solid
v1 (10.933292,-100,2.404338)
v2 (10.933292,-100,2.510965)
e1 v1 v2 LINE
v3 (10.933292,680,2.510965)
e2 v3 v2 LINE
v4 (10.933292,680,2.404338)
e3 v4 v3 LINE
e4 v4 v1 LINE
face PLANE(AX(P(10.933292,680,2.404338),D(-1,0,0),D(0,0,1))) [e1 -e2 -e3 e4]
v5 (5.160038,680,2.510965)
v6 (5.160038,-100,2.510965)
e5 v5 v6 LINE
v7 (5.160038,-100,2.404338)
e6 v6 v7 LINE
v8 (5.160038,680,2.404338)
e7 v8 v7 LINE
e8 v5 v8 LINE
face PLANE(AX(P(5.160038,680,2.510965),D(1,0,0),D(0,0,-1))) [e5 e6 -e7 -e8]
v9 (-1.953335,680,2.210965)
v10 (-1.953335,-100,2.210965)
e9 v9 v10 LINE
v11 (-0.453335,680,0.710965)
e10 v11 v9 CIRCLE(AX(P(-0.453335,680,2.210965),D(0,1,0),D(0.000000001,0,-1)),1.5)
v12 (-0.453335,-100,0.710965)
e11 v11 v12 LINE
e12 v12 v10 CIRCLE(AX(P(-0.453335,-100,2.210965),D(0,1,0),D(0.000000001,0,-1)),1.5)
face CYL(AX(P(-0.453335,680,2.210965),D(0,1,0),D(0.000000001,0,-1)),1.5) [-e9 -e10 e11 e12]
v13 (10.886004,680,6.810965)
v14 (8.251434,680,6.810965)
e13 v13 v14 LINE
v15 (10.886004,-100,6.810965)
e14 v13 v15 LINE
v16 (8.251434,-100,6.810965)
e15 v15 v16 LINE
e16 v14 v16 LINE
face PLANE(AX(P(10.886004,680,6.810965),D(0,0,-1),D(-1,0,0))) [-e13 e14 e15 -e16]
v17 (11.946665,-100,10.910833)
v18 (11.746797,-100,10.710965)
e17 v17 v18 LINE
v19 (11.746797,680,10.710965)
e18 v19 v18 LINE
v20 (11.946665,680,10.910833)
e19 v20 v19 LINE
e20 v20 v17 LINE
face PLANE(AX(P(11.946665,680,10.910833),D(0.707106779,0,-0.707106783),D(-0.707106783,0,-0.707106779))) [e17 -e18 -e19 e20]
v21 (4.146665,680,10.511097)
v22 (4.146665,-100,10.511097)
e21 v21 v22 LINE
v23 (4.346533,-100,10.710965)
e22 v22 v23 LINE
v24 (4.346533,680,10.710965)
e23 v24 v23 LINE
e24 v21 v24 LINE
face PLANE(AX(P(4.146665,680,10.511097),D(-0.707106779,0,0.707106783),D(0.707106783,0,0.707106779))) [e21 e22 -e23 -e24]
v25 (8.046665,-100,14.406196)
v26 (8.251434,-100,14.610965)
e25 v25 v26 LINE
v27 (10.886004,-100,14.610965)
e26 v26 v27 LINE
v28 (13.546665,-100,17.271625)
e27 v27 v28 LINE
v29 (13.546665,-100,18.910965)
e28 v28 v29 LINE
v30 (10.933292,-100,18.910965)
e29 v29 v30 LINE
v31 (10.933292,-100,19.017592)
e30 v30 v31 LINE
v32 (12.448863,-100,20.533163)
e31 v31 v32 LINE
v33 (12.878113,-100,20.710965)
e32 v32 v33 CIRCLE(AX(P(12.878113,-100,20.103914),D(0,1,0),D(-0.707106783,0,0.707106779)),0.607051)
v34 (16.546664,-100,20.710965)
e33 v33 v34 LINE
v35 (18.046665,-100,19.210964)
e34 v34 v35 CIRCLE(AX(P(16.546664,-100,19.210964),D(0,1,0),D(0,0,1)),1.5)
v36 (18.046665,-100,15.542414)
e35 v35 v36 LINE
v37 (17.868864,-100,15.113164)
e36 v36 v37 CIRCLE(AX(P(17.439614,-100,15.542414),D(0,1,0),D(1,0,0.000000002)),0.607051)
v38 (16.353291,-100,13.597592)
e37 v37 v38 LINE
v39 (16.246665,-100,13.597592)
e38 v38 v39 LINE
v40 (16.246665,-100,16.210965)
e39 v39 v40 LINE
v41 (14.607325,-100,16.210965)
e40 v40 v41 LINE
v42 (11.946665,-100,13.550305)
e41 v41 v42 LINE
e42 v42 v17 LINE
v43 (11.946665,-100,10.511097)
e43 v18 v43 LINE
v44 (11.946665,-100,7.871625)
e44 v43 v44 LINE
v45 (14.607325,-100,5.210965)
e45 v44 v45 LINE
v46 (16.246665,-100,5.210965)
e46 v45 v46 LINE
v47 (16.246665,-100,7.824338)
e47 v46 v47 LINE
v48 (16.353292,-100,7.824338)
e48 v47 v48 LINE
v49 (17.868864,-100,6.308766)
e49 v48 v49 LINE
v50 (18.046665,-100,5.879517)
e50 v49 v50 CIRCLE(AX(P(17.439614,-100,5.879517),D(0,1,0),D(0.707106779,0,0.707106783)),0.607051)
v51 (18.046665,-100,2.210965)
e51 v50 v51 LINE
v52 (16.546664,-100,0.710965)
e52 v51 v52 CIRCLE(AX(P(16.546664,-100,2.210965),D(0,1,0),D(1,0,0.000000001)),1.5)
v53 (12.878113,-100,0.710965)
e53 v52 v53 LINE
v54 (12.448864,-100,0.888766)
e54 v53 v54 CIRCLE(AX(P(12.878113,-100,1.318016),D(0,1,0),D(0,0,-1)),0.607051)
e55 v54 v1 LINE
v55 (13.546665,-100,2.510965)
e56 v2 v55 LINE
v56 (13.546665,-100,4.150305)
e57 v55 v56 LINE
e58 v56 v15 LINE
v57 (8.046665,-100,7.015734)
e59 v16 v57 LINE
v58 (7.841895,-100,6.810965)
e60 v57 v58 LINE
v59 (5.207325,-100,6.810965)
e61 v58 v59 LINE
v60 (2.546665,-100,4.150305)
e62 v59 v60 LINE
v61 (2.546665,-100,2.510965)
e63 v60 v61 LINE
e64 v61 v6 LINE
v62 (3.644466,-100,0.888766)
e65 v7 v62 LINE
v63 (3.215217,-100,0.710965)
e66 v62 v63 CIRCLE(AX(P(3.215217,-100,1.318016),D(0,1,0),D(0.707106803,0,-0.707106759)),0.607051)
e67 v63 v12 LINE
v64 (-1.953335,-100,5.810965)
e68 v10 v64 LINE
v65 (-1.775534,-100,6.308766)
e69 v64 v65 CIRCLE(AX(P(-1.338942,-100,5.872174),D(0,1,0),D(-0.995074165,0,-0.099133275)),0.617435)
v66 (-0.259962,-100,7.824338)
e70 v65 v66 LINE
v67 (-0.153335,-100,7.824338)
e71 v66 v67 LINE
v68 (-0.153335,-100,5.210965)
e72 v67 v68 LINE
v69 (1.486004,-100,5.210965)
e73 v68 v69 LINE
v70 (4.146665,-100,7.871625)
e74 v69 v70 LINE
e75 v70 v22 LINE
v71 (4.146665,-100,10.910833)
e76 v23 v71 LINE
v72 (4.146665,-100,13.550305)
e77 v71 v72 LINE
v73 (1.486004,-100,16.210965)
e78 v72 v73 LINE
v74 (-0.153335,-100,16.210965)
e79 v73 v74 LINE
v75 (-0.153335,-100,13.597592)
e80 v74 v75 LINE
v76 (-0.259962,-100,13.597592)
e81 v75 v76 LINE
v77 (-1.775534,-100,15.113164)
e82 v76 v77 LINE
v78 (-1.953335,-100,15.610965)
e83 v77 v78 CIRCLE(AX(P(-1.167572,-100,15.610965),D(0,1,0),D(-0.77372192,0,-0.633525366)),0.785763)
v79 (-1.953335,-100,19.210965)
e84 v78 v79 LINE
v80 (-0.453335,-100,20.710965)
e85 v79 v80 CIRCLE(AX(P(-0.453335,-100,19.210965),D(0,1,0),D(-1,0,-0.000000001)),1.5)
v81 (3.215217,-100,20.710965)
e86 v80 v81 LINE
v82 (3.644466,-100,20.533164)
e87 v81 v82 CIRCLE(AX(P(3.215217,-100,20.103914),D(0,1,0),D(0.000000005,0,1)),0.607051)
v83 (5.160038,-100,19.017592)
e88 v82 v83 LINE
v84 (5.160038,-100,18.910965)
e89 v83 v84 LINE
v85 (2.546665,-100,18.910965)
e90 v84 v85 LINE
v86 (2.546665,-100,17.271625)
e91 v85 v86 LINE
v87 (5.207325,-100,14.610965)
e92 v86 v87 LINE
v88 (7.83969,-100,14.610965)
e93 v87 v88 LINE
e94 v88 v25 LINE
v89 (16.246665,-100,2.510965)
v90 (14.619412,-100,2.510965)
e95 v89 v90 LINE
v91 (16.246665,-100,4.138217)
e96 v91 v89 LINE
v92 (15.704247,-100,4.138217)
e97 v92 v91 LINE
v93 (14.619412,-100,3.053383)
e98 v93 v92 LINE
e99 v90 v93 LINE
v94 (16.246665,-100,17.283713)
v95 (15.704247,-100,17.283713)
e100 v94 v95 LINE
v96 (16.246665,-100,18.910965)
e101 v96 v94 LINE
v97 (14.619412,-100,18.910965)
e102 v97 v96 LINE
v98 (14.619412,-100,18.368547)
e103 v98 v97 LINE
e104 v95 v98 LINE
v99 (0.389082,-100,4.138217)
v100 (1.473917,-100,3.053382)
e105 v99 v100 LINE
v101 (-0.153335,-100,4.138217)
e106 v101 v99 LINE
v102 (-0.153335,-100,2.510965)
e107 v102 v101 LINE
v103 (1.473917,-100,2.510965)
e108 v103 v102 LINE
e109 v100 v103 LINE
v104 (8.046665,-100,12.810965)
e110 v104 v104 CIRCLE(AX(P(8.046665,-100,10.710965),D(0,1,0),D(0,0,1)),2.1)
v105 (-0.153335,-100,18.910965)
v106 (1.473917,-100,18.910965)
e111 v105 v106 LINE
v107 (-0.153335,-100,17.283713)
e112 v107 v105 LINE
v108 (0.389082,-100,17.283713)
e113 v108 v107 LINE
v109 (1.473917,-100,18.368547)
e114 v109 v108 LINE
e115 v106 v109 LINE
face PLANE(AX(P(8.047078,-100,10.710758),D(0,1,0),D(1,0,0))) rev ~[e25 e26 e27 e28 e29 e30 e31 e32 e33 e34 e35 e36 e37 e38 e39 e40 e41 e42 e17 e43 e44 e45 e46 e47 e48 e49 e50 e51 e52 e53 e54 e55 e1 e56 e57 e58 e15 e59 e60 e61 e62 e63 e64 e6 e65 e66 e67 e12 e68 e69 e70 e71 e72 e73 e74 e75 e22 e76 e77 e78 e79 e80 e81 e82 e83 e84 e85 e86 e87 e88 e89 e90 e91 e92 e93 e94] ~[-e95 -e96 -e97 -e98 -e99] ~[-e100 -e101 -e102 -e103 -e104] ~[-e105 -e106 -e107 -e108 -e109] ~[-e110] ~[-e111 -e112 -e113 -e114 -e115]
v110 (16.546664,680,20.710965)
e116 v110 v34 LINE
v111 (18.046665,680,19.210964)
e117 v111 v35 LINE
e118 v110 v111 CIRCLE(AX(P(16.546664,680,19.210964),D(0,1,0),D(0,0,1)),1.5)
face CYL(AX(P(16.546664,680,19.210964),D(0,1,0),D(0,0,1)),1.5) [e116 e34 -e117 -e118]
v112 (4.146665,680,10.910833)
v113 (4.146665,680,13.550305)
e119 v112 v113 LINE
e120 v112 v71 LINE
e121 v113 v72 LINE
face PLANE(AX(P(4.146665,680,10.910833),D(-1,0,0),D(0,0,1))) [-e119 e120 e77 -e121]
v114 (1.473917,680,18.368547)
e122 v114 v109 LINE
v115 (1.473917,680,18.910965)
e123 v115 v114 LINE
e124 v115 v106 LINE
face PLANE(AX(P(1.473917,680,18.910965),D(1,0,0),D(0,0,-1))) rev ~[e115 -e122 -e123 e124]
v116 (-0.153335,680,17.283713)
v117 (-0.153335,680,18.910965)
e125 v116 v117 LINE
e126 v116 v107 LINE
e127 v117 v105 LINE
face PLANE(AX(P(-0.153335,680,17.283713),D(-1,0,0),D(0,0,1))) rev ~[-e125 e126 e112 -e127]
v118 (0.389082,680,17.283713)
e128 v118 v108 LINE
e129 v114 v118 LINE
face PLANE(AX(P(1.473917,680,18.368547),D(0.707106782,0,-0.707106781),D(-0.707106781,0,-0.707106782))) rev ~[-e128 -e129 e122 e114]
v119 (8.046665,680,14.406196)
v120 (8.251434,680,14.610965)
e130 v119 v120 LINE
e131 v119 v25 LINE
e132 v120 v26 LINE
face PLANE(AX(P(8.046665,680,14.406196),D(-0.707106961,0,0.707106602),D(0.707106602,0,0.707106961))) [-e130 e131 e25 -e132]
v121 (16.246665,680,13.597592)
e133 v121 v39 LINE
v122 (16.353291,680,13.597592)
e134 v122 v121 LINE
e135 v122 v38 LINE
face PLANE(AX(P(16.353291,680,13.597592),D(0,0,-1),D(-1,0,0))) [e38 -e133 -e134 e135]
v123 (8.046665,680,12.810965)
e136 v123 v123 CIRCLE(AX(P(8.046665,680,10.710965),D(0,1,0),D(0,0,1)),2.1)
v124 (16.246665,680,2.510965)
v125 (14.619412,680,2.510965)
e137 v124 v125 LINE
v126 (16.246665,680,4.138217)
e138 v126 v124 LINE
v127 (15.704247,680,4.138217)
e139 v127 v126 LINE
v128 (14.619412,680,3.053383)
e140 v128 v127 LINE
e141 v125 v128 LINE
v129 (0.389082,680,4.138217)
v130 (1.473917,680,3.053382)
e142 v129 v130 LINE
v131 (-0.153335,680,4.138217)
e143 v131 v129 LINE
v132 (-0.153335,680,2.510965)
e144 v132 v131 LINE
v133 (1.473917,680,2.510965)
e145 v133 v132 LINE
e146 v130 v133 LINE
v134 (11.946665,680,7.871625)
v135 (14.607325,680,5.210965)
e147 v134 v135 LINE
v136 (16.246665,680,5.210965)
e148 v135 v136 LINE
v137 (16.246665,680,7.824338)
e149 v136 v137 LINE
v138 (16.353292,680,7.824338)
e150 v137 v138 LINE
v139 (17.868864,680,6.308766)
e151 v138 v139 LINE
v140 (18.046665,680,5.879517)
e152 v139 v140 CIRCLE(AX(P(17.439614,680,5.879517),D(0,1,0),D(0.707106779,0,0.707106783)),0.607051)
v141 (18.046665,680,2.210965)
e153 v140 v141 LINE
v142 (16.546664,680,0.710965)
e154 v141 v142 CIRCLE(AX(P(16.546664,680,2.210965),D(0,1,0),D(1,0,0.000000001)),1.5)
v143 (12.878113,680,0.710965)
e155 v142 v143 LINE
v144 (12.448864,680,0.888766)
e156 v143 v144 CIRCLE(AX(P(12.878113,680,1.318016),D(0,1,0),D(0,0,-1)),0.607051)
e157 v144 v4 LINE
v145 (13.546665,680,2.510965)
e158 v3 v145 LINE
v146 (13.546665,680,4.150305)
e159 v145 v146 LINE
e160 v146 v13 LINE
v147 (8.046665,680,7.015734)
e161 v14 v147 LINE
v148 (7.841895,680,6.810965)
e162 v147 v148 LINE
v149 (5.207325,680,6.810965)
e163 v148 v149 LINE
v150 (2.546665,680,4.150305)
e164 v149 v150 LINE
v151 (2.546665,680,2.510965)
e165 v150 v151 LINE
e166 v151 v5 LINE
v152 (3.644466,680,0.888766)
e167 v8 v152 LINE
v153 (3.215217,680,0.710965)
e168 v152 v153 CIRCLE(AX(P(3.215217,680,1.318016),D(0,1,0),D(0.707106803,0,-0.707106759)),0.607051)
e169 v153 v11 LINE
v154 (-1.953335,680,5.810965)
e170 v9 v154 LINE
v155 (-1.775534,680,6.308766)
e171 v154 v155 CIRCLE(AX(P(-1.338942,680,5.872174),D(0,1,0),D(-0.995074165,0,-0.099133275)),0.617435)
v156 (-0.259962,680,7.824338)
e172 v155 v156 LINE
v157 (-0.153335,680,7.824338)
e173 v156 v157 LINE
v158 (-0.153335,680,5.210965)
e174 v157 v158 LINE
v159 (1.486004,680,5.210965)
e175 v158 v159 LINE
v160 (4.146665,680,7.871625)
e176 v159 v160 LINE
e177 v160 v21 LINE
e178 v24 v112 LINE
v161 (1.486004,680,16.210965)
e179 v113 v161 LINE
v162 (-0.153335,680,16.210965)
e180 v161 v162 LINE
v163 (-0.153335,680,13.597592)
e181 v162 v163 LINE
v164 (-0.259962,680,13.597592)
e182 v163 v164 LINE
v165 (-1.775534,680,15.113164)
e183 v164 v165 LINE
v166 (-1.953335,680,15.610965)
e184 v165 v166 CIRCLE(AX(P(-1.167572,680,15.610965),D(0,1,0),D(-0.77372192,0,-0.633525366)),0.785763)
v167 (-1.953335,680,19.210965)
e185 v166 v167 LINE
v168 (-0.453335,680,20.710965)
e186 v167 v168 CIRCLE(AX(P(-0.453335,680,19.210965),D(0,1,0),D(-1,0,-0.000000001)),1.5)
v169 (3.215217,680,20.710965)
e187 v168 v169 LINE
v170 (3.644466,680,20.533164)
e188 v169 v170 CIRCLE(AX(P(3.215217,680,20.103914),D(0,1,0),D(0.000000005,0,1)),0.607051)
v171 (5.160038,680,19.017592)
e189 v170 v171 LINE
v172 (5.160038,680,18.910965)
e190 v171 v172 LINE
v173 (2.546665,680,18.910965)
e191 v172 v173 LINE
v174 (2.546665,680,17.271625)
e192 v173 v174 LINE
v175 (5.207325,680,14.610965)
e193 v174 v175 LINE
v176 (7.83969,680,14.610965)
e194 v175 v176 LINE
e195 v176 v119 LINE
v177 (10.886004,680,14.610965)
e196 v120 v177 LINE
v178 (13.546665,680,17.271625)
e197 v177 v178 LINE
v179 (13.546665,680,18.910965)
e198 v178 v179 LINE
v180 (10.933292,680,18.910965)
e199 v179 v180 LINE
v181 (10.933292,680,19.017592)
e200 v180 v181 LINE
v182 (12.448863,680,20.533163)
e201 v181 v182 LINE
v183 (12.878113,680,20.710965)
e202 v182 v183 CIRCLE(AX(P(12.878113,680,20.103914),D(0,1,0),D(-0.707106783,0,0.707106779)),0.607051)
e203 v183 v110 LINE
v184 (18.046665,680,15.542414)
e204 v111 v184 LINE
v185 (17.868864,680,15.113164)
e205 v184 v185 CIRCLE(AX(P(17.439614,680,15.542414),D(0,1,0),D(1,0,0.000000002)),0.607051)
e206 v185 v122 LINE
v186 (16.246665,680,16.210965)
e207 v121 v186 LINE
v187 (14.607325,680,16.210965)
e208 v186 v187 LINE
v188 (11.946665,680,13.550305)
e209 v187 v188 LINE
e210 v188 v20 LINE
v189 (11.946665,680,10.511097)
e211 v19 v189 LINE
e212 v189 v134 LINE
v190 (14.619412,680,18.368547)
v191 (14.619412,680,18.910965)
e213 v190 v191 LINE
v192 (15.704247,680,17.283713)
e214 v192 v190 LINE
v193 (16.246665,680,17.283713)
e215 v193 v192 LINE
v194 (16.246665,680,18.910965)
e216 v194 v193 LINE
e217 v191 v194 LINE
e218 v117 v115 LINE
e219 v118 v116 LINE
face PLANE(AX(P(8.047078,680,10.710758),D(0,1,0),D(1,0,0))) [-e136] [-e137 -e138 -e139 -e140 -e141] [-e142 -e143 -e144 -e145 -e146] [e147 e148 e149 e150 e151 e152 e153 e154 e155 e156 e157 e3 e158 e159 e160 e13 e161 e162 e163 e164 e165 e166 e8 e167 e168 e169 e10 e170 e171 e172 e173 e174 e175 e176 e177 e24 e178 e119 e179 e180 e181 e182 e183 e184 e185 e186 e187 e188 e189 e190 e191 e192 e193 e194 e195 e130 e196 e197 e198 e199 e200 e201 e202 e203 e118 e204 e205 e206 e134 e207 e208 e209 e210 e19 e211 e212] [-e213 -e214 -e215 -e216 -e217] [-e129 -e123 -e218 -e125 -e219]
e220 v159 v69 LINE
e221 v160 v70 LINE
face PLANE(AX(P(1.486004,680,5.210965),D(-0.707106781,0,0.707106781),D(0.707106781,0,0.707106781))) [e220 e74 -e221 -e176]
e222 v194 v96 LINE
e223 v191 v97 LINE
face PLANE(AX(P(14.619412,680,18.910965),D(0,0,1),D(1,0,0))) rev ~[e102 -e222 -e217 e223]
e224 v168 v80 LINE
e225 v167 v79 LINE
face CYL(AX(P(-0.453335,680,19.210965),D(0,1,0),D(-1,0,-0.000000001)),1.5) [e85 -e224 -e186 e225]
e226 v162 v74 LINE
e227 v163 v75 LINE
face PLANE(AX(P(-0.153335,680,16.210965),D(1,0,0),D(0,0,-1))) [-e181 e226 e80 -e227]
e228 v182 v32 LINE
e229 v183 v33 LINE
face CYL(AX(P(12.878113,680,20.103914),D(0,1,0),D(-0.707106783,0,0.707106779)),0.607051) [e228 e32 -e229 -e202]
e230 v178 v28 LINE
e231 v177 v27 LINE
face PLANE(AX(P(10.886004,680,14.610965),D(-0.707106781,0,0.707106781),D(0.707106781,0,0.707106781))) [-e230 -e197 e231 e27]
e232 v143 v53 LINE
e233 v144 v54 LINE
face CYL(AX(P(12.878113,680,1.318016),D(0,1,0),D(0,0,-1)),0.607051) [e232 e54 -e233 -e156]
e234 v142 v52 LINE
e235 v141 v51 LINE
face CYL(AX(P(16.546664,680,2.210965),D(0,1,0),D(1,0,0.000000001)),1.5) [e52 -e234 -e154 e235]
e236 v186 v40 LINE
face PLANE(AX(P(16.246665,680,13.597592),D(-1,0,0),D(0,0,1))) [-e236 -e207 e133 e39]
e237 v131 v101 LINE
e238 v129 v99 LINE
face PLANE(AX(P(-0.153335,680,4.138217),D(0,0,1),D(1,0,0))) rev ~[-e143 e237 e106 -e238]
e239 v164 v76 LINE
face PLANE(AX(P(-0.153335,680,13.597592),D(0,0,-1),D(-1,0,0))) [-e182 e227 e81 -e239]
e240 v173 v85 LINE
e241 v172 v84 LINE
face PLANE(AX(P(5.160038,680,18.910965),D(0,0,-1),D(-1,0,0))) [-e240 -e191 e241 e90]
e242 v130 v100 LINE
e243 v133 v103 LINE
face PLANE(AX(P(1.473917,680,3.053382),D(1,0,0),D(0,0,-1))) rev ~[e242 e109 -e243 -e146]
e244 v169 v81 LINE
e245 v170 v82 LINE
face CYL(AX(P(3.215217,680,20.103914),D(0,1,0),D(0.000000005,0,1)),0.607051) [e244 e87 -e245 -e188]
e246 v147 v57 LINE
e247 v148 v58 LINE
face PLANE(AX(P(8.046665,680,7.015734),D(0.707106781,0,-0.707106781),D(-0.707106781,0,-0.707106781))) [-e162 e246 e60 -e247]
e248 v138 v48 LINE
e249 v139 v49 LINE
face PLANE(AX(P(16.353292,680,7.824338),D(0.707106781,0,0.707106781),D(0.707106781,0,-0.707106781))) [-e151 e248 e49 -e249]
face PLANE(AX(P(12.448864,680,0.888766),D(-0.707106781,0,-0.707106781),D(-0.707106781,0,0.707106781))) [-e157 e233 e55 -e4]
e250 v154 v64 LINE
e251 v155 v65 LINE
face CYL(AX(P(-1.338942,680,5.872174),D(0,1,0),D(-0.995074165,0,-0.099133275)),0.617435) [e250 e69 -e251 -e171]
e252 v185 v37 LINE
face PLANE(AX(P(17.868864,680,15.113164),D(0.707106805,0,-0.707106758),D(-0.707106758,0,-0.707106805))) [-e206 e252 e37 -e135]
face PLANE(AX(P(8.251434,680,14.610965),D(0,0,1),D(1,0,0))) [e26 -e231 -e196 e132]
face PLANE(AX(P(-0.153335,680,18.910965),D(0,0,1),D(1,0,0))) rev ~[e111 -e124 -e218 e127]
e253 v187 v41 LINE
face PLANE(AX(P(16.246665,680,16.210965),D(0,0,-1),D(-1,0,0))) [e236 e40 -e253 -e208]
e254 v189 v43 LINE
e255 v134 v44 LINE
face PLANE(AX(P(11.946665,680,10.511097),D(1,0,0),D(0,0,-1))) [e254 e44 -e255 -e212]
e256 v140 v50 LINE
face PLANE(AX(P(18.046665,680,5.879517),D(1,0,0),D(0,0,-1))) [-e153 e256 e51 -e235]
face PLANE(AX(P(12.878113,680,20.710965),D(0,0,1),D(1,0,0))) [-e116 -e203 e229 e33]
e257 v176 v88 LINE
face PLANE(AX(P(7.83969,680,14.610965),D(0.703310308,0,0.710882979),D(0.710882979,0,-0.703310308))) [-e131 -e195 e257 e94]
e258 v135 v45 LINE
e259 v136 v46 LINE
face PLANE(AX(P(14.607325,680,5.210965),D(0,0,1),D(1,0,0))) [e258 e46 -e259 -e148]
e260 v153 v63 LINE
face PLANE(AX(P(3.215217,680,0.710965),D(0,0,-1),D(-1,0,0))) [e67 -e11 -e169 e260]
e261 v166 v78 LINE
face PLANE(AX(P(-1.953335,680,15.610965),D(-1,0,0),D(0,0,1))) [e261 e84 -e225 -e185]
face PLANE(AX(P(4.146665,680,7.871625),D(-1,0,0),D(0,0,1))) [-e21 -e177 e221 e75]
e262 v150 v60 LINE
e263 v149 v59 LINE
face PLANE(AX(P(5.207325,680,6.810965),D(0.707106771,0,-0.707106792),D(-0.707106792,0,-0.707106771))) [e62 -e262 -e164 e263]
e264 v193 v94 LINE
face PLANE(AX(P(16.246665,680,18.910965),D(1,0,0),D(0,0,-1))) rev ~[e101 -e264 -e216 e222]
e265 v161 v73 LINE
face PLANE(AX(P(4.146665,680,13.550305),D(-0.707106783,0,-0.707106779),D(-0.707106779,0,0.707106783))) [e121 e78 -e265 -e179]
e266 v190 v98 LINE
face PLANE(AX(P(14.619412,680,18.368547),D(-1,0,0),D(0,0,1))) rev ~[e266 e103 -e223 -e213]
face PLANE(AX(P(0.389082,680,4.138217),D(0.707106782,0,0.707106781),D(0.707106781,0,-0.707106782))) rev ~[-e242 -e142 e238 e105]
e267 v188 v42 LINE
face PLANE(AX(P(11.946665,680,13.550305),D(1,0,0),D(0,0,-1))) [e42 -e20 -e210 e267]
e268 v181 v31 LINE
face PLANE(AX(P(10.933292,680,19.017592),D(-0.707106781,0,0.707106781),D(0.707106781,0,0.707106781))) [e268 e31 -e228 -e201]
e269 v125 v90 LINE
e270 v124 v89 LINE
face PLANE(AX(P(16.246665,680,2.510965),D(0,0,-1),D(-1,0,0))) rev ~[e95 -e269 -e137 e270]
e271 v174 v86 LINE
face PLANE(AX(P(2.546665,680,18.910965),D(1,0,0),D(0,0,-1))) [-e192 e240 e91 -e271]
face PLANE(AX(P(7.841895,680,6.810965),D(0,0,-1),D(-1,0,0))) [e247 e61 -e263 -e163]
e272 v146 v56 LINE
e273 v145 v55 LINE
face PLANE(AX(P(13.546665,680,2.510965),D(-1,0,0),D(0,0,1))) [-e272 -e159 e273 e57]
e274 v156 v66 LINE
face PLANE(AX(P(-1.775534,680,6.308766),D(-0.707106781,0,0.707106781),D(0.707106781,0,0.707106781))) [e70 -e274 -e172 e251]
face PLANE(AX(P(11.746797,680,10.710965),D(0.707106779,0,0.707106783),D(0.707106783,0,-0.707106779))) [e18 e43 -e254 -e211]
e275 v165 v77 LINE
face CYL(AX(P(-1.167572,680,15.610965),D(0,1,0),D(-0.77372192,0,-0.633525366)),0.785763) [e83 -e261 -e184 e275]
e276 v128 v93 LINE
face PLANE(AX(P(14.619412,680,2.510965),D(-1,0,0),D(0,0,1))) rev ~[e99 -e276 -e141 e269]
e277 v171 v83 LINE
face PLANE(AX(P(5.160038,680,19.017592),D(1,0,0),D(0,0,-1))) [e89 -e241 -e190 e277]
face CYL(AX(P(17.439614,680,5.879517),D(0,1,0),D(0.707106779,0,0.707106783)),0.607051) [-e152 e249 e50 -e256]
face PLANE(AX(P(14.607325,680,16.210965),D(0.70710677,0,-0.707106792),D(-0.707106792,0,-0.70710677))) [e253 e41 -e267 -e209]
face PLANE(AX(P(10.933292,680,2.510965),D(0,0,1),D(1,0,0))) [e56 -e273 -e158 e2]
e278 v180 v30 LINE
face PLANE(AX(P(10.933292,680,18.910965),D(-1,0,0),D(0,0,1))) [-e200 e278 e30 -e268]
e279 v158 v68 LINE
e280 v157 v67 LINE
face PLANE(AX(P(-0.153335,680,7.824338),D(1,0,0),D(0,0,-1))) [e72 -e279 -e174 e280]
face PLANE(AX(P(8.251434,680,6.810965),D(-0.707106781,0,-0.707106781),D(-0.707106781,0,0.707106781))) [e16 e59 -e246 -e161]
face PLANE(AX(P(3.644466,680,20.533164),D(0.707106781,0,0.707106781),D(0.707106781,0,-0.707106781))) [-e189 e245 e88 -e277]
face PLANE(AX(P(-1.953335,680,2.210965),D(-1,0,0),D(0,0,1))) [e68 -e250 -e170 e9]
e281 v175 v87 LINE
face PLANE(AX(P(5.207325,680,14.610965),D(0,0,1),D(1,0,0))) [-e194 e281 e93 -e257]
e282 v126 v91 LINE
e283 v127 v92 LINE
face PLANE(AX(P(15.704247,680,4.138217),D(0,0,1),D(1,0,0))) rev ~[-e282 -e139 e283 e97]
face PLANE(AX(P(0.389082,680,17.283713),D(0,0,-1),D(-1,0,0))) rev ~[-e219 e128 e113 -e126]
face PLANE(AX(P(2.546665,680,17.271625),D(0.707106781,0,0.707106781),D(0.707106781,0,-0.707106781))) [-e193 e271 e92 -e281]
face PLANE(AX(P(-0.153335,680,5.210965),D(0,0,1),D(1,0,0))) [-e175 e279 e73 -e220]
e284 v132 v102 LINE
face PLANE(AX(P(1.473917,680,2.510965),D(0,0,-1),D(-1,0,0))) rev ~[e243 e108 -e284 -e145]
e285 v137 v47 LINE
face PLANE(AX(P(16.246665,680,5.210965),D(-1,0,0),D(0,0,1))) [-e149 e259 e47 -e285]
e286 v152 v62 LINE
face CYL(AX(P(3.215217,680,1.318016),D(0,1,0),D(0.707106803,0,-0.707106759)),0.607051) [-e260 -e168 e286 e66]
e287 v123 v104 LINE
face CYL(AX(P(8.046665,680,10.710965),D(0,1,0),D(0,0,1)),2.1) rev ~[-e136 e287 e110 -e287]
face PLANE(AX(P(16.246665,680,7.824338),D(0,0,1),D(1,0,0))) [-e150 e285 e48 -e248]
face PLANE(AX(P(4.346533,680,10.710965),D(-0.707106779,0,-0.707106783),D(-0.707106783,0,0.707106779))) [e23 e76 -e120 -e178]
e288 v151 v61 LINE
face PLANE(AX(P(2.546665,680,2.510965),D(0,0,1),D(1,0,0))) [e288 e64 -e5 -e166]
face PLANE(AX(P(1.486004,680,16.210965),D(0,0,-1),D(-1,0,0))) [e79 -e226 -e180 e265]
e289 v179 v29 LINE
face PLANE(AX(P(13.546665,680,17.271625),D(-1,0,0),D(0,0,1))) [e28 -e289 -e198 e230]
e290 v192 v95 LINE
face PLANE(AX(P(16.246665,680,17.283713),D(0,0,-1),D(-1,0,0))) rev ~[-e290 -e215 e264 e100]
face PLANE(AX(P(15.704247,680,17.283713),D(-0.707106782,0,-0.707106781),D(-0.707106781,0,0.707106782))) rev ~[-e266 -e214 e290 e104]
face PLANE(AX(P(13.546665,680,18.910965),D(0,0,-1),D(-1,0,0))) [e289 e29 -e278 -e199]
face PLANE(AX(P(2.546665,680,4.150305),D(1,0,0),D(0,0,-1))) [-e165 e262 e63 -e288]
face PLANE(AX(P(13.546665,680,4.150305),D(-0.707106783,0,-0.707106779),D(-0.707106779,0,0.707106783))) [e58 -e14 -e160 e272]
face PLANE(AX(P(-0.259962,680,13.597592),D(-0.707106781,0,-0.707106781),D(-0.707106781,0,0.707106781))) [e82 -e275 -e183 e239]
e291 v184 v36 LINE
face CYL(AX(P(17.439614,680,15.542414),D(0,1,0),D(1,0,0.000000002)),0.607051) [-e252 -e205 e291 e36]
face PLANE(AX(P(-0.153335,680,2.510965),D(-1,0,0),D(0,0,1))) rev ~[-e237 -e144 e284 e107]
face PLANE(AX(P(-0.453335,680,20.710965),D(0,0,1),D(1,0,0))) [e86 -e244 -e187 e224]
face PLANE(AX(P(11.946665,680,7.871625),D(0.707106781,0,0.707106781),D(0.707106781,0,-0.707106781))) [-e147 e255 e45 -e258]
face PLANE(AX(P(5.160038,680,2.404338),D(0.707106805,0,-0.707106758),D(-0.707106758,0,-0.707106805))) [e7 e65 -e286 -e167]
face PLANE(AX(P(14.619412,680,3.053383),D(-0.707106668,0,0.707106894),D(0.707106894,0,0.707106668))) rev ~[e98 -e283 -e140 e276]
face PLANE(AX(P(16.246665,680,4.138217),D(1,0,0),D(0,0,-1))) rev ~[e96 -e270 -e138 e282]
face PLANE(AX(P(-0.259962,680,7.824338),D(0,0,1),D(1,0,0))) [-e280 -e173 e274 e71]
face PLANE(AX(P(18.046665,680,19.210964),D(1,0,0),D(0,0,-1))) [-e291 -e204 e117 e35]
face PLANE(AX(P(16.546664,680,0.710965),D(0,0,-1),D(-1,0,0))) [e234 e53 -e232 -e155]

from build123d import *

# Parameters (mm, degrees)
SKETCH5_R           = 2.1
BOSS_EXTRUDE4_DEPTH = 780


with BuildPart() as part:
    # Sketch5 → Boss-Extrude4 (new body)
    with BuildSketch(Plane(origin=(0, 680, 0), x_dir=(1, 0, 0), z_dir=(0, 1, 0))):
        with BuildLine():
            Line((10.933291631, -2.510964723), (13.546664665, -2.510964723))
            Line((13.546664665, -2.510964723), (13.546664665, -4.150304529))
            Line((13.546664665, -4.150304529), (10.886004292, -6.810964917))
            Line((10.886004292, -6.810964917), (8.251433769, -6.810964917))
            Line((8.251433769, -6.810964917), (8.046664548, -7.015734138))
            Line((8.046664548, -7.015734138), (7.841895327, -6.810964917))
            Line((7.841895327, -6.810964917), (5.20732467, -6.810964917))
            Line((5.20732467, -6.810964917), (2.546664606, -4.150304933))
            Line((2.546664606, -4.150304933), (2.546664606, -2.510964723))
            Line((2.546664606, -2.510964723), (5.160037847, -2.510964723))
            Line((5.160037847, -2.510964723), (5.160037847, -2.404337587))
            Line((5.160037847, -2.404337587), (3.644466263, -0.888765902))
            ThreePointArc((3.644466263, -0.888765902), (3.447524808, -0.757173822), (3.215216519, -0.710964828))
            Line((3.215216519, -0.710964828), (-0.453335301, -0.710964828))
            ThreePointArc((-0.453335301, -0.710964828), (-1.51399556, -1.150304692), (-1.953335424, -2.210964951))
            Line((-1.953335424, -2.210964951), (-1.953335424, -5.810965145))
            ThreePointArc((-1.953335424, -5.810965145), (-1.920400619, -6.079855092), (-1.775534246, -6.308766076))
            Line((-1.775534246, -6.308766076), (-0.259962261, -7.82433806))
            Line((-0.259962261, -7.82433806), (-0.153335306, -7.82433806))
            Line((-0.153335306, -7.82433806), (-0.153335306, -5.210964844))
            Line((-0.153335306, -5.210964844), (1.48600445, -5.210964844))
            Line((1.48600445, -5.210964844), (4.146664635, -7.871625029))
            Line((4.146664635, -7.871625029), (4.146664635, -10.511096803))
            Line((4.146664635, -10.511096803), (4.346532653, -10.71096482))
            Line((4.346532653, -10.71096482), (4.146664635, -10.910832837))
            Line((4.146664635, -10.910832837), (4.146664635, -13.550304611))
            Line((4.146664635, -13.550304611), (1.486004498, -16.210964763))
            Line((1.486004498, -16.210964763), (-0.153335306, -16.210964763))
            Line((-0.153335306, -16.210964763), (-0.153335306, -13.597591958))
            Line((-0.153335306, -13.597591958), (-0.259962405, -13.597591958))
            Line((-0.259962405, -13.597591958), (-1.775534389, -15.113163943))
            ThreePointArc((-1.775534389, -15.113163943), (-1.907551313, -15.346664458), (-1.953335424, -15.610964996))
            Line((-1.953335424, -15.610964996), (-1.953335424, -19.210964568))
            ThreePointArc((-1.953335424, -19.210964568), (-1.513995592, -20.27162475), (-0.453335411, -20.710964582))
            Line((-0.453335411, -20.710964582), (3.215216577, -20.710964582))
            ThreePointArc((3.215216577, -20.710964582), (3.447524814, -20.6647556), (3.644466229, -20.533163554))
            Line((3.644466229, -20.533163554), (5.160037847, -19.017591936))
            Line((5.160037847, -19.017591936), (5.160037847, -18.910964955))
            Line((5.160037847, -18.910964955), (2.546664606, -18.910964955))
            Line((2.546664606, -18.910964955), (2.546664606, -17.271624993))
            Line((2.546664606, -17.271624993), (5.207324725, -14.610964873))
            Line((5.207324725, -14.610964873), (7.839690462, -14.610964873))
            Line((7.839690462, -14.610964873), (8.046664589, -14.406195535))
            Line((8.046664589, -14.406195535), (8.251433823, -14.610964873))
            Line((8.251433823, -14.610964873), (10.88600448, -14.610964873))
            Line((10.88600448, -14.610964873), (13.546664665, -17.271625059))
            Line((13.546664665, -17.271625059), (13.546664665, -18.910964955))
            Line((13.546664665, -18.910964955), (10.933291631, -18.910964955))
            Line((10.933291631, -18.910964955), (10.933291631, -19.017591953))
            Line((10.933291631, -19.017591953), (12.448863173, -20.533163494))
            ThreePointArc((12.448863173, -20.533163494), (12.645804654, -20.664755585), (12.878112969, -20.710964582))
            Line((12.878112969, -20.710964582), (16.546664468, -20.710964582))
            ThreePointArc((16.546664468, -20.710964582), (17.607324734, -20.271624715), (18.046664601, -19.210964449))
            Line((18.046664601, -19.210964449), (18.046664601, -15.542413801))
            ThreePointArc((18.046664601, -15.542413801), (18.000455626, -15.310105584), (17.868863597, -15.113164184))
            Line((17.868863597, -15.113164184), (16.353291472, -13.597591958))
            Line((16.353291472, -13.597591958), (16.246664762, -13.597591958))
            Line((16.246664762, -13.597591958), (16.246664762, -16.210964763))
            Line((16.246664762, -16.210964763), (14.607324803, -16.210964763))
            Line((14.607324803, -16.210964763), (11.94666457, -13.550304611))
            Line((11.94666457, -13.550304611), (11.94666457, -10.910832837))
            Line((11.94666457, -10.910832837), (11.746796552, -10.71096482))
            Line((11.746796552, -10.71096482), (11.94666457, -10.511096803))
            Line((11.94666457, -10.511096803), (11.94666457, -7.871625029))
            Line((11.94666457, -7.871625029), (14.607324755, -5.210964844))
            Line((14.607324755, -5.210964844), (16.246664762, -5.210964844))
            Line((16.246664762, -5.210964844), (16.246664762, -7.82433806))
            Line((16.246664762, -7.82433806), (16.353291723, -7.82433806))
            Line((16.353291723, -7.82433806), (17.868863593, -6.30876619))
            ThreePointArc((17.868863593, -6.30876619), (18.000455625, -6.111824797), (18.046664601, -5.879516585))
            Line((18.046664601, -5.879516585), (18.046664601, -2.210964977))
            ThreePointArc((18.046664601, -2.210964977), (17.60732473, -1.1503047), (16.546664453, -0.710964828))
            Line((16.546664453, -0.710964828), (12.87811338, -0.710964828))
            ThreePointArc((12.87811338, -0.710964828), (12.645805115, -0.757173815), (12.448863677, -0.888765877))
            Line((12.448863677, -0.888765877), (10.933291631, -2.404337922))
            Line((10.933291631, -2.404337922), (10.933291631, -2.510964723))
        make_face()
        with Locations(Location((8.046664646, -10.71096484, 0), (0, 0, 270))):
            Circle(SKETCH5_R, mode=Mode.SUBTRACT)
        Polygon((15.704247289, -4.138217153), (16.246664762, -4.138217153), (16.246664762, -2.510964723), (14.619412332, -2.510964723), (14.619412332, -3.053382543), align=None, mode=Mode.SUBTRACT)
        Polygon((16.246664762, -18.910964955), (16.246664762, -17.283712525), (15.704247289, -17.283712525), (14.619412332, -18.368547483), (14.619412332, -18.910964955), align=None, mode=Mode.SUBTRACT)
        Polygon((1.473917132, -3.053382195), (1.473917132, -2.510964723), (-0.153335306, -2.510964723), (-0.153335306, -4.138217153), (0.389082175, -4.138217153), align=None, mode=Mode.SUBTRACT)
        Polygon((1.473917132, -18.910964955), (1.473917132, -18.368547483), (0.389082175, -17.283712525), (-0.153335306, -17.283712525), (-0.153335306, -18.910964955), align=None, mode=Mode.SUBTRACT)
    extrude(amount=-BOSS_EXTRUDE4_DEPTH)


solid = part.part
